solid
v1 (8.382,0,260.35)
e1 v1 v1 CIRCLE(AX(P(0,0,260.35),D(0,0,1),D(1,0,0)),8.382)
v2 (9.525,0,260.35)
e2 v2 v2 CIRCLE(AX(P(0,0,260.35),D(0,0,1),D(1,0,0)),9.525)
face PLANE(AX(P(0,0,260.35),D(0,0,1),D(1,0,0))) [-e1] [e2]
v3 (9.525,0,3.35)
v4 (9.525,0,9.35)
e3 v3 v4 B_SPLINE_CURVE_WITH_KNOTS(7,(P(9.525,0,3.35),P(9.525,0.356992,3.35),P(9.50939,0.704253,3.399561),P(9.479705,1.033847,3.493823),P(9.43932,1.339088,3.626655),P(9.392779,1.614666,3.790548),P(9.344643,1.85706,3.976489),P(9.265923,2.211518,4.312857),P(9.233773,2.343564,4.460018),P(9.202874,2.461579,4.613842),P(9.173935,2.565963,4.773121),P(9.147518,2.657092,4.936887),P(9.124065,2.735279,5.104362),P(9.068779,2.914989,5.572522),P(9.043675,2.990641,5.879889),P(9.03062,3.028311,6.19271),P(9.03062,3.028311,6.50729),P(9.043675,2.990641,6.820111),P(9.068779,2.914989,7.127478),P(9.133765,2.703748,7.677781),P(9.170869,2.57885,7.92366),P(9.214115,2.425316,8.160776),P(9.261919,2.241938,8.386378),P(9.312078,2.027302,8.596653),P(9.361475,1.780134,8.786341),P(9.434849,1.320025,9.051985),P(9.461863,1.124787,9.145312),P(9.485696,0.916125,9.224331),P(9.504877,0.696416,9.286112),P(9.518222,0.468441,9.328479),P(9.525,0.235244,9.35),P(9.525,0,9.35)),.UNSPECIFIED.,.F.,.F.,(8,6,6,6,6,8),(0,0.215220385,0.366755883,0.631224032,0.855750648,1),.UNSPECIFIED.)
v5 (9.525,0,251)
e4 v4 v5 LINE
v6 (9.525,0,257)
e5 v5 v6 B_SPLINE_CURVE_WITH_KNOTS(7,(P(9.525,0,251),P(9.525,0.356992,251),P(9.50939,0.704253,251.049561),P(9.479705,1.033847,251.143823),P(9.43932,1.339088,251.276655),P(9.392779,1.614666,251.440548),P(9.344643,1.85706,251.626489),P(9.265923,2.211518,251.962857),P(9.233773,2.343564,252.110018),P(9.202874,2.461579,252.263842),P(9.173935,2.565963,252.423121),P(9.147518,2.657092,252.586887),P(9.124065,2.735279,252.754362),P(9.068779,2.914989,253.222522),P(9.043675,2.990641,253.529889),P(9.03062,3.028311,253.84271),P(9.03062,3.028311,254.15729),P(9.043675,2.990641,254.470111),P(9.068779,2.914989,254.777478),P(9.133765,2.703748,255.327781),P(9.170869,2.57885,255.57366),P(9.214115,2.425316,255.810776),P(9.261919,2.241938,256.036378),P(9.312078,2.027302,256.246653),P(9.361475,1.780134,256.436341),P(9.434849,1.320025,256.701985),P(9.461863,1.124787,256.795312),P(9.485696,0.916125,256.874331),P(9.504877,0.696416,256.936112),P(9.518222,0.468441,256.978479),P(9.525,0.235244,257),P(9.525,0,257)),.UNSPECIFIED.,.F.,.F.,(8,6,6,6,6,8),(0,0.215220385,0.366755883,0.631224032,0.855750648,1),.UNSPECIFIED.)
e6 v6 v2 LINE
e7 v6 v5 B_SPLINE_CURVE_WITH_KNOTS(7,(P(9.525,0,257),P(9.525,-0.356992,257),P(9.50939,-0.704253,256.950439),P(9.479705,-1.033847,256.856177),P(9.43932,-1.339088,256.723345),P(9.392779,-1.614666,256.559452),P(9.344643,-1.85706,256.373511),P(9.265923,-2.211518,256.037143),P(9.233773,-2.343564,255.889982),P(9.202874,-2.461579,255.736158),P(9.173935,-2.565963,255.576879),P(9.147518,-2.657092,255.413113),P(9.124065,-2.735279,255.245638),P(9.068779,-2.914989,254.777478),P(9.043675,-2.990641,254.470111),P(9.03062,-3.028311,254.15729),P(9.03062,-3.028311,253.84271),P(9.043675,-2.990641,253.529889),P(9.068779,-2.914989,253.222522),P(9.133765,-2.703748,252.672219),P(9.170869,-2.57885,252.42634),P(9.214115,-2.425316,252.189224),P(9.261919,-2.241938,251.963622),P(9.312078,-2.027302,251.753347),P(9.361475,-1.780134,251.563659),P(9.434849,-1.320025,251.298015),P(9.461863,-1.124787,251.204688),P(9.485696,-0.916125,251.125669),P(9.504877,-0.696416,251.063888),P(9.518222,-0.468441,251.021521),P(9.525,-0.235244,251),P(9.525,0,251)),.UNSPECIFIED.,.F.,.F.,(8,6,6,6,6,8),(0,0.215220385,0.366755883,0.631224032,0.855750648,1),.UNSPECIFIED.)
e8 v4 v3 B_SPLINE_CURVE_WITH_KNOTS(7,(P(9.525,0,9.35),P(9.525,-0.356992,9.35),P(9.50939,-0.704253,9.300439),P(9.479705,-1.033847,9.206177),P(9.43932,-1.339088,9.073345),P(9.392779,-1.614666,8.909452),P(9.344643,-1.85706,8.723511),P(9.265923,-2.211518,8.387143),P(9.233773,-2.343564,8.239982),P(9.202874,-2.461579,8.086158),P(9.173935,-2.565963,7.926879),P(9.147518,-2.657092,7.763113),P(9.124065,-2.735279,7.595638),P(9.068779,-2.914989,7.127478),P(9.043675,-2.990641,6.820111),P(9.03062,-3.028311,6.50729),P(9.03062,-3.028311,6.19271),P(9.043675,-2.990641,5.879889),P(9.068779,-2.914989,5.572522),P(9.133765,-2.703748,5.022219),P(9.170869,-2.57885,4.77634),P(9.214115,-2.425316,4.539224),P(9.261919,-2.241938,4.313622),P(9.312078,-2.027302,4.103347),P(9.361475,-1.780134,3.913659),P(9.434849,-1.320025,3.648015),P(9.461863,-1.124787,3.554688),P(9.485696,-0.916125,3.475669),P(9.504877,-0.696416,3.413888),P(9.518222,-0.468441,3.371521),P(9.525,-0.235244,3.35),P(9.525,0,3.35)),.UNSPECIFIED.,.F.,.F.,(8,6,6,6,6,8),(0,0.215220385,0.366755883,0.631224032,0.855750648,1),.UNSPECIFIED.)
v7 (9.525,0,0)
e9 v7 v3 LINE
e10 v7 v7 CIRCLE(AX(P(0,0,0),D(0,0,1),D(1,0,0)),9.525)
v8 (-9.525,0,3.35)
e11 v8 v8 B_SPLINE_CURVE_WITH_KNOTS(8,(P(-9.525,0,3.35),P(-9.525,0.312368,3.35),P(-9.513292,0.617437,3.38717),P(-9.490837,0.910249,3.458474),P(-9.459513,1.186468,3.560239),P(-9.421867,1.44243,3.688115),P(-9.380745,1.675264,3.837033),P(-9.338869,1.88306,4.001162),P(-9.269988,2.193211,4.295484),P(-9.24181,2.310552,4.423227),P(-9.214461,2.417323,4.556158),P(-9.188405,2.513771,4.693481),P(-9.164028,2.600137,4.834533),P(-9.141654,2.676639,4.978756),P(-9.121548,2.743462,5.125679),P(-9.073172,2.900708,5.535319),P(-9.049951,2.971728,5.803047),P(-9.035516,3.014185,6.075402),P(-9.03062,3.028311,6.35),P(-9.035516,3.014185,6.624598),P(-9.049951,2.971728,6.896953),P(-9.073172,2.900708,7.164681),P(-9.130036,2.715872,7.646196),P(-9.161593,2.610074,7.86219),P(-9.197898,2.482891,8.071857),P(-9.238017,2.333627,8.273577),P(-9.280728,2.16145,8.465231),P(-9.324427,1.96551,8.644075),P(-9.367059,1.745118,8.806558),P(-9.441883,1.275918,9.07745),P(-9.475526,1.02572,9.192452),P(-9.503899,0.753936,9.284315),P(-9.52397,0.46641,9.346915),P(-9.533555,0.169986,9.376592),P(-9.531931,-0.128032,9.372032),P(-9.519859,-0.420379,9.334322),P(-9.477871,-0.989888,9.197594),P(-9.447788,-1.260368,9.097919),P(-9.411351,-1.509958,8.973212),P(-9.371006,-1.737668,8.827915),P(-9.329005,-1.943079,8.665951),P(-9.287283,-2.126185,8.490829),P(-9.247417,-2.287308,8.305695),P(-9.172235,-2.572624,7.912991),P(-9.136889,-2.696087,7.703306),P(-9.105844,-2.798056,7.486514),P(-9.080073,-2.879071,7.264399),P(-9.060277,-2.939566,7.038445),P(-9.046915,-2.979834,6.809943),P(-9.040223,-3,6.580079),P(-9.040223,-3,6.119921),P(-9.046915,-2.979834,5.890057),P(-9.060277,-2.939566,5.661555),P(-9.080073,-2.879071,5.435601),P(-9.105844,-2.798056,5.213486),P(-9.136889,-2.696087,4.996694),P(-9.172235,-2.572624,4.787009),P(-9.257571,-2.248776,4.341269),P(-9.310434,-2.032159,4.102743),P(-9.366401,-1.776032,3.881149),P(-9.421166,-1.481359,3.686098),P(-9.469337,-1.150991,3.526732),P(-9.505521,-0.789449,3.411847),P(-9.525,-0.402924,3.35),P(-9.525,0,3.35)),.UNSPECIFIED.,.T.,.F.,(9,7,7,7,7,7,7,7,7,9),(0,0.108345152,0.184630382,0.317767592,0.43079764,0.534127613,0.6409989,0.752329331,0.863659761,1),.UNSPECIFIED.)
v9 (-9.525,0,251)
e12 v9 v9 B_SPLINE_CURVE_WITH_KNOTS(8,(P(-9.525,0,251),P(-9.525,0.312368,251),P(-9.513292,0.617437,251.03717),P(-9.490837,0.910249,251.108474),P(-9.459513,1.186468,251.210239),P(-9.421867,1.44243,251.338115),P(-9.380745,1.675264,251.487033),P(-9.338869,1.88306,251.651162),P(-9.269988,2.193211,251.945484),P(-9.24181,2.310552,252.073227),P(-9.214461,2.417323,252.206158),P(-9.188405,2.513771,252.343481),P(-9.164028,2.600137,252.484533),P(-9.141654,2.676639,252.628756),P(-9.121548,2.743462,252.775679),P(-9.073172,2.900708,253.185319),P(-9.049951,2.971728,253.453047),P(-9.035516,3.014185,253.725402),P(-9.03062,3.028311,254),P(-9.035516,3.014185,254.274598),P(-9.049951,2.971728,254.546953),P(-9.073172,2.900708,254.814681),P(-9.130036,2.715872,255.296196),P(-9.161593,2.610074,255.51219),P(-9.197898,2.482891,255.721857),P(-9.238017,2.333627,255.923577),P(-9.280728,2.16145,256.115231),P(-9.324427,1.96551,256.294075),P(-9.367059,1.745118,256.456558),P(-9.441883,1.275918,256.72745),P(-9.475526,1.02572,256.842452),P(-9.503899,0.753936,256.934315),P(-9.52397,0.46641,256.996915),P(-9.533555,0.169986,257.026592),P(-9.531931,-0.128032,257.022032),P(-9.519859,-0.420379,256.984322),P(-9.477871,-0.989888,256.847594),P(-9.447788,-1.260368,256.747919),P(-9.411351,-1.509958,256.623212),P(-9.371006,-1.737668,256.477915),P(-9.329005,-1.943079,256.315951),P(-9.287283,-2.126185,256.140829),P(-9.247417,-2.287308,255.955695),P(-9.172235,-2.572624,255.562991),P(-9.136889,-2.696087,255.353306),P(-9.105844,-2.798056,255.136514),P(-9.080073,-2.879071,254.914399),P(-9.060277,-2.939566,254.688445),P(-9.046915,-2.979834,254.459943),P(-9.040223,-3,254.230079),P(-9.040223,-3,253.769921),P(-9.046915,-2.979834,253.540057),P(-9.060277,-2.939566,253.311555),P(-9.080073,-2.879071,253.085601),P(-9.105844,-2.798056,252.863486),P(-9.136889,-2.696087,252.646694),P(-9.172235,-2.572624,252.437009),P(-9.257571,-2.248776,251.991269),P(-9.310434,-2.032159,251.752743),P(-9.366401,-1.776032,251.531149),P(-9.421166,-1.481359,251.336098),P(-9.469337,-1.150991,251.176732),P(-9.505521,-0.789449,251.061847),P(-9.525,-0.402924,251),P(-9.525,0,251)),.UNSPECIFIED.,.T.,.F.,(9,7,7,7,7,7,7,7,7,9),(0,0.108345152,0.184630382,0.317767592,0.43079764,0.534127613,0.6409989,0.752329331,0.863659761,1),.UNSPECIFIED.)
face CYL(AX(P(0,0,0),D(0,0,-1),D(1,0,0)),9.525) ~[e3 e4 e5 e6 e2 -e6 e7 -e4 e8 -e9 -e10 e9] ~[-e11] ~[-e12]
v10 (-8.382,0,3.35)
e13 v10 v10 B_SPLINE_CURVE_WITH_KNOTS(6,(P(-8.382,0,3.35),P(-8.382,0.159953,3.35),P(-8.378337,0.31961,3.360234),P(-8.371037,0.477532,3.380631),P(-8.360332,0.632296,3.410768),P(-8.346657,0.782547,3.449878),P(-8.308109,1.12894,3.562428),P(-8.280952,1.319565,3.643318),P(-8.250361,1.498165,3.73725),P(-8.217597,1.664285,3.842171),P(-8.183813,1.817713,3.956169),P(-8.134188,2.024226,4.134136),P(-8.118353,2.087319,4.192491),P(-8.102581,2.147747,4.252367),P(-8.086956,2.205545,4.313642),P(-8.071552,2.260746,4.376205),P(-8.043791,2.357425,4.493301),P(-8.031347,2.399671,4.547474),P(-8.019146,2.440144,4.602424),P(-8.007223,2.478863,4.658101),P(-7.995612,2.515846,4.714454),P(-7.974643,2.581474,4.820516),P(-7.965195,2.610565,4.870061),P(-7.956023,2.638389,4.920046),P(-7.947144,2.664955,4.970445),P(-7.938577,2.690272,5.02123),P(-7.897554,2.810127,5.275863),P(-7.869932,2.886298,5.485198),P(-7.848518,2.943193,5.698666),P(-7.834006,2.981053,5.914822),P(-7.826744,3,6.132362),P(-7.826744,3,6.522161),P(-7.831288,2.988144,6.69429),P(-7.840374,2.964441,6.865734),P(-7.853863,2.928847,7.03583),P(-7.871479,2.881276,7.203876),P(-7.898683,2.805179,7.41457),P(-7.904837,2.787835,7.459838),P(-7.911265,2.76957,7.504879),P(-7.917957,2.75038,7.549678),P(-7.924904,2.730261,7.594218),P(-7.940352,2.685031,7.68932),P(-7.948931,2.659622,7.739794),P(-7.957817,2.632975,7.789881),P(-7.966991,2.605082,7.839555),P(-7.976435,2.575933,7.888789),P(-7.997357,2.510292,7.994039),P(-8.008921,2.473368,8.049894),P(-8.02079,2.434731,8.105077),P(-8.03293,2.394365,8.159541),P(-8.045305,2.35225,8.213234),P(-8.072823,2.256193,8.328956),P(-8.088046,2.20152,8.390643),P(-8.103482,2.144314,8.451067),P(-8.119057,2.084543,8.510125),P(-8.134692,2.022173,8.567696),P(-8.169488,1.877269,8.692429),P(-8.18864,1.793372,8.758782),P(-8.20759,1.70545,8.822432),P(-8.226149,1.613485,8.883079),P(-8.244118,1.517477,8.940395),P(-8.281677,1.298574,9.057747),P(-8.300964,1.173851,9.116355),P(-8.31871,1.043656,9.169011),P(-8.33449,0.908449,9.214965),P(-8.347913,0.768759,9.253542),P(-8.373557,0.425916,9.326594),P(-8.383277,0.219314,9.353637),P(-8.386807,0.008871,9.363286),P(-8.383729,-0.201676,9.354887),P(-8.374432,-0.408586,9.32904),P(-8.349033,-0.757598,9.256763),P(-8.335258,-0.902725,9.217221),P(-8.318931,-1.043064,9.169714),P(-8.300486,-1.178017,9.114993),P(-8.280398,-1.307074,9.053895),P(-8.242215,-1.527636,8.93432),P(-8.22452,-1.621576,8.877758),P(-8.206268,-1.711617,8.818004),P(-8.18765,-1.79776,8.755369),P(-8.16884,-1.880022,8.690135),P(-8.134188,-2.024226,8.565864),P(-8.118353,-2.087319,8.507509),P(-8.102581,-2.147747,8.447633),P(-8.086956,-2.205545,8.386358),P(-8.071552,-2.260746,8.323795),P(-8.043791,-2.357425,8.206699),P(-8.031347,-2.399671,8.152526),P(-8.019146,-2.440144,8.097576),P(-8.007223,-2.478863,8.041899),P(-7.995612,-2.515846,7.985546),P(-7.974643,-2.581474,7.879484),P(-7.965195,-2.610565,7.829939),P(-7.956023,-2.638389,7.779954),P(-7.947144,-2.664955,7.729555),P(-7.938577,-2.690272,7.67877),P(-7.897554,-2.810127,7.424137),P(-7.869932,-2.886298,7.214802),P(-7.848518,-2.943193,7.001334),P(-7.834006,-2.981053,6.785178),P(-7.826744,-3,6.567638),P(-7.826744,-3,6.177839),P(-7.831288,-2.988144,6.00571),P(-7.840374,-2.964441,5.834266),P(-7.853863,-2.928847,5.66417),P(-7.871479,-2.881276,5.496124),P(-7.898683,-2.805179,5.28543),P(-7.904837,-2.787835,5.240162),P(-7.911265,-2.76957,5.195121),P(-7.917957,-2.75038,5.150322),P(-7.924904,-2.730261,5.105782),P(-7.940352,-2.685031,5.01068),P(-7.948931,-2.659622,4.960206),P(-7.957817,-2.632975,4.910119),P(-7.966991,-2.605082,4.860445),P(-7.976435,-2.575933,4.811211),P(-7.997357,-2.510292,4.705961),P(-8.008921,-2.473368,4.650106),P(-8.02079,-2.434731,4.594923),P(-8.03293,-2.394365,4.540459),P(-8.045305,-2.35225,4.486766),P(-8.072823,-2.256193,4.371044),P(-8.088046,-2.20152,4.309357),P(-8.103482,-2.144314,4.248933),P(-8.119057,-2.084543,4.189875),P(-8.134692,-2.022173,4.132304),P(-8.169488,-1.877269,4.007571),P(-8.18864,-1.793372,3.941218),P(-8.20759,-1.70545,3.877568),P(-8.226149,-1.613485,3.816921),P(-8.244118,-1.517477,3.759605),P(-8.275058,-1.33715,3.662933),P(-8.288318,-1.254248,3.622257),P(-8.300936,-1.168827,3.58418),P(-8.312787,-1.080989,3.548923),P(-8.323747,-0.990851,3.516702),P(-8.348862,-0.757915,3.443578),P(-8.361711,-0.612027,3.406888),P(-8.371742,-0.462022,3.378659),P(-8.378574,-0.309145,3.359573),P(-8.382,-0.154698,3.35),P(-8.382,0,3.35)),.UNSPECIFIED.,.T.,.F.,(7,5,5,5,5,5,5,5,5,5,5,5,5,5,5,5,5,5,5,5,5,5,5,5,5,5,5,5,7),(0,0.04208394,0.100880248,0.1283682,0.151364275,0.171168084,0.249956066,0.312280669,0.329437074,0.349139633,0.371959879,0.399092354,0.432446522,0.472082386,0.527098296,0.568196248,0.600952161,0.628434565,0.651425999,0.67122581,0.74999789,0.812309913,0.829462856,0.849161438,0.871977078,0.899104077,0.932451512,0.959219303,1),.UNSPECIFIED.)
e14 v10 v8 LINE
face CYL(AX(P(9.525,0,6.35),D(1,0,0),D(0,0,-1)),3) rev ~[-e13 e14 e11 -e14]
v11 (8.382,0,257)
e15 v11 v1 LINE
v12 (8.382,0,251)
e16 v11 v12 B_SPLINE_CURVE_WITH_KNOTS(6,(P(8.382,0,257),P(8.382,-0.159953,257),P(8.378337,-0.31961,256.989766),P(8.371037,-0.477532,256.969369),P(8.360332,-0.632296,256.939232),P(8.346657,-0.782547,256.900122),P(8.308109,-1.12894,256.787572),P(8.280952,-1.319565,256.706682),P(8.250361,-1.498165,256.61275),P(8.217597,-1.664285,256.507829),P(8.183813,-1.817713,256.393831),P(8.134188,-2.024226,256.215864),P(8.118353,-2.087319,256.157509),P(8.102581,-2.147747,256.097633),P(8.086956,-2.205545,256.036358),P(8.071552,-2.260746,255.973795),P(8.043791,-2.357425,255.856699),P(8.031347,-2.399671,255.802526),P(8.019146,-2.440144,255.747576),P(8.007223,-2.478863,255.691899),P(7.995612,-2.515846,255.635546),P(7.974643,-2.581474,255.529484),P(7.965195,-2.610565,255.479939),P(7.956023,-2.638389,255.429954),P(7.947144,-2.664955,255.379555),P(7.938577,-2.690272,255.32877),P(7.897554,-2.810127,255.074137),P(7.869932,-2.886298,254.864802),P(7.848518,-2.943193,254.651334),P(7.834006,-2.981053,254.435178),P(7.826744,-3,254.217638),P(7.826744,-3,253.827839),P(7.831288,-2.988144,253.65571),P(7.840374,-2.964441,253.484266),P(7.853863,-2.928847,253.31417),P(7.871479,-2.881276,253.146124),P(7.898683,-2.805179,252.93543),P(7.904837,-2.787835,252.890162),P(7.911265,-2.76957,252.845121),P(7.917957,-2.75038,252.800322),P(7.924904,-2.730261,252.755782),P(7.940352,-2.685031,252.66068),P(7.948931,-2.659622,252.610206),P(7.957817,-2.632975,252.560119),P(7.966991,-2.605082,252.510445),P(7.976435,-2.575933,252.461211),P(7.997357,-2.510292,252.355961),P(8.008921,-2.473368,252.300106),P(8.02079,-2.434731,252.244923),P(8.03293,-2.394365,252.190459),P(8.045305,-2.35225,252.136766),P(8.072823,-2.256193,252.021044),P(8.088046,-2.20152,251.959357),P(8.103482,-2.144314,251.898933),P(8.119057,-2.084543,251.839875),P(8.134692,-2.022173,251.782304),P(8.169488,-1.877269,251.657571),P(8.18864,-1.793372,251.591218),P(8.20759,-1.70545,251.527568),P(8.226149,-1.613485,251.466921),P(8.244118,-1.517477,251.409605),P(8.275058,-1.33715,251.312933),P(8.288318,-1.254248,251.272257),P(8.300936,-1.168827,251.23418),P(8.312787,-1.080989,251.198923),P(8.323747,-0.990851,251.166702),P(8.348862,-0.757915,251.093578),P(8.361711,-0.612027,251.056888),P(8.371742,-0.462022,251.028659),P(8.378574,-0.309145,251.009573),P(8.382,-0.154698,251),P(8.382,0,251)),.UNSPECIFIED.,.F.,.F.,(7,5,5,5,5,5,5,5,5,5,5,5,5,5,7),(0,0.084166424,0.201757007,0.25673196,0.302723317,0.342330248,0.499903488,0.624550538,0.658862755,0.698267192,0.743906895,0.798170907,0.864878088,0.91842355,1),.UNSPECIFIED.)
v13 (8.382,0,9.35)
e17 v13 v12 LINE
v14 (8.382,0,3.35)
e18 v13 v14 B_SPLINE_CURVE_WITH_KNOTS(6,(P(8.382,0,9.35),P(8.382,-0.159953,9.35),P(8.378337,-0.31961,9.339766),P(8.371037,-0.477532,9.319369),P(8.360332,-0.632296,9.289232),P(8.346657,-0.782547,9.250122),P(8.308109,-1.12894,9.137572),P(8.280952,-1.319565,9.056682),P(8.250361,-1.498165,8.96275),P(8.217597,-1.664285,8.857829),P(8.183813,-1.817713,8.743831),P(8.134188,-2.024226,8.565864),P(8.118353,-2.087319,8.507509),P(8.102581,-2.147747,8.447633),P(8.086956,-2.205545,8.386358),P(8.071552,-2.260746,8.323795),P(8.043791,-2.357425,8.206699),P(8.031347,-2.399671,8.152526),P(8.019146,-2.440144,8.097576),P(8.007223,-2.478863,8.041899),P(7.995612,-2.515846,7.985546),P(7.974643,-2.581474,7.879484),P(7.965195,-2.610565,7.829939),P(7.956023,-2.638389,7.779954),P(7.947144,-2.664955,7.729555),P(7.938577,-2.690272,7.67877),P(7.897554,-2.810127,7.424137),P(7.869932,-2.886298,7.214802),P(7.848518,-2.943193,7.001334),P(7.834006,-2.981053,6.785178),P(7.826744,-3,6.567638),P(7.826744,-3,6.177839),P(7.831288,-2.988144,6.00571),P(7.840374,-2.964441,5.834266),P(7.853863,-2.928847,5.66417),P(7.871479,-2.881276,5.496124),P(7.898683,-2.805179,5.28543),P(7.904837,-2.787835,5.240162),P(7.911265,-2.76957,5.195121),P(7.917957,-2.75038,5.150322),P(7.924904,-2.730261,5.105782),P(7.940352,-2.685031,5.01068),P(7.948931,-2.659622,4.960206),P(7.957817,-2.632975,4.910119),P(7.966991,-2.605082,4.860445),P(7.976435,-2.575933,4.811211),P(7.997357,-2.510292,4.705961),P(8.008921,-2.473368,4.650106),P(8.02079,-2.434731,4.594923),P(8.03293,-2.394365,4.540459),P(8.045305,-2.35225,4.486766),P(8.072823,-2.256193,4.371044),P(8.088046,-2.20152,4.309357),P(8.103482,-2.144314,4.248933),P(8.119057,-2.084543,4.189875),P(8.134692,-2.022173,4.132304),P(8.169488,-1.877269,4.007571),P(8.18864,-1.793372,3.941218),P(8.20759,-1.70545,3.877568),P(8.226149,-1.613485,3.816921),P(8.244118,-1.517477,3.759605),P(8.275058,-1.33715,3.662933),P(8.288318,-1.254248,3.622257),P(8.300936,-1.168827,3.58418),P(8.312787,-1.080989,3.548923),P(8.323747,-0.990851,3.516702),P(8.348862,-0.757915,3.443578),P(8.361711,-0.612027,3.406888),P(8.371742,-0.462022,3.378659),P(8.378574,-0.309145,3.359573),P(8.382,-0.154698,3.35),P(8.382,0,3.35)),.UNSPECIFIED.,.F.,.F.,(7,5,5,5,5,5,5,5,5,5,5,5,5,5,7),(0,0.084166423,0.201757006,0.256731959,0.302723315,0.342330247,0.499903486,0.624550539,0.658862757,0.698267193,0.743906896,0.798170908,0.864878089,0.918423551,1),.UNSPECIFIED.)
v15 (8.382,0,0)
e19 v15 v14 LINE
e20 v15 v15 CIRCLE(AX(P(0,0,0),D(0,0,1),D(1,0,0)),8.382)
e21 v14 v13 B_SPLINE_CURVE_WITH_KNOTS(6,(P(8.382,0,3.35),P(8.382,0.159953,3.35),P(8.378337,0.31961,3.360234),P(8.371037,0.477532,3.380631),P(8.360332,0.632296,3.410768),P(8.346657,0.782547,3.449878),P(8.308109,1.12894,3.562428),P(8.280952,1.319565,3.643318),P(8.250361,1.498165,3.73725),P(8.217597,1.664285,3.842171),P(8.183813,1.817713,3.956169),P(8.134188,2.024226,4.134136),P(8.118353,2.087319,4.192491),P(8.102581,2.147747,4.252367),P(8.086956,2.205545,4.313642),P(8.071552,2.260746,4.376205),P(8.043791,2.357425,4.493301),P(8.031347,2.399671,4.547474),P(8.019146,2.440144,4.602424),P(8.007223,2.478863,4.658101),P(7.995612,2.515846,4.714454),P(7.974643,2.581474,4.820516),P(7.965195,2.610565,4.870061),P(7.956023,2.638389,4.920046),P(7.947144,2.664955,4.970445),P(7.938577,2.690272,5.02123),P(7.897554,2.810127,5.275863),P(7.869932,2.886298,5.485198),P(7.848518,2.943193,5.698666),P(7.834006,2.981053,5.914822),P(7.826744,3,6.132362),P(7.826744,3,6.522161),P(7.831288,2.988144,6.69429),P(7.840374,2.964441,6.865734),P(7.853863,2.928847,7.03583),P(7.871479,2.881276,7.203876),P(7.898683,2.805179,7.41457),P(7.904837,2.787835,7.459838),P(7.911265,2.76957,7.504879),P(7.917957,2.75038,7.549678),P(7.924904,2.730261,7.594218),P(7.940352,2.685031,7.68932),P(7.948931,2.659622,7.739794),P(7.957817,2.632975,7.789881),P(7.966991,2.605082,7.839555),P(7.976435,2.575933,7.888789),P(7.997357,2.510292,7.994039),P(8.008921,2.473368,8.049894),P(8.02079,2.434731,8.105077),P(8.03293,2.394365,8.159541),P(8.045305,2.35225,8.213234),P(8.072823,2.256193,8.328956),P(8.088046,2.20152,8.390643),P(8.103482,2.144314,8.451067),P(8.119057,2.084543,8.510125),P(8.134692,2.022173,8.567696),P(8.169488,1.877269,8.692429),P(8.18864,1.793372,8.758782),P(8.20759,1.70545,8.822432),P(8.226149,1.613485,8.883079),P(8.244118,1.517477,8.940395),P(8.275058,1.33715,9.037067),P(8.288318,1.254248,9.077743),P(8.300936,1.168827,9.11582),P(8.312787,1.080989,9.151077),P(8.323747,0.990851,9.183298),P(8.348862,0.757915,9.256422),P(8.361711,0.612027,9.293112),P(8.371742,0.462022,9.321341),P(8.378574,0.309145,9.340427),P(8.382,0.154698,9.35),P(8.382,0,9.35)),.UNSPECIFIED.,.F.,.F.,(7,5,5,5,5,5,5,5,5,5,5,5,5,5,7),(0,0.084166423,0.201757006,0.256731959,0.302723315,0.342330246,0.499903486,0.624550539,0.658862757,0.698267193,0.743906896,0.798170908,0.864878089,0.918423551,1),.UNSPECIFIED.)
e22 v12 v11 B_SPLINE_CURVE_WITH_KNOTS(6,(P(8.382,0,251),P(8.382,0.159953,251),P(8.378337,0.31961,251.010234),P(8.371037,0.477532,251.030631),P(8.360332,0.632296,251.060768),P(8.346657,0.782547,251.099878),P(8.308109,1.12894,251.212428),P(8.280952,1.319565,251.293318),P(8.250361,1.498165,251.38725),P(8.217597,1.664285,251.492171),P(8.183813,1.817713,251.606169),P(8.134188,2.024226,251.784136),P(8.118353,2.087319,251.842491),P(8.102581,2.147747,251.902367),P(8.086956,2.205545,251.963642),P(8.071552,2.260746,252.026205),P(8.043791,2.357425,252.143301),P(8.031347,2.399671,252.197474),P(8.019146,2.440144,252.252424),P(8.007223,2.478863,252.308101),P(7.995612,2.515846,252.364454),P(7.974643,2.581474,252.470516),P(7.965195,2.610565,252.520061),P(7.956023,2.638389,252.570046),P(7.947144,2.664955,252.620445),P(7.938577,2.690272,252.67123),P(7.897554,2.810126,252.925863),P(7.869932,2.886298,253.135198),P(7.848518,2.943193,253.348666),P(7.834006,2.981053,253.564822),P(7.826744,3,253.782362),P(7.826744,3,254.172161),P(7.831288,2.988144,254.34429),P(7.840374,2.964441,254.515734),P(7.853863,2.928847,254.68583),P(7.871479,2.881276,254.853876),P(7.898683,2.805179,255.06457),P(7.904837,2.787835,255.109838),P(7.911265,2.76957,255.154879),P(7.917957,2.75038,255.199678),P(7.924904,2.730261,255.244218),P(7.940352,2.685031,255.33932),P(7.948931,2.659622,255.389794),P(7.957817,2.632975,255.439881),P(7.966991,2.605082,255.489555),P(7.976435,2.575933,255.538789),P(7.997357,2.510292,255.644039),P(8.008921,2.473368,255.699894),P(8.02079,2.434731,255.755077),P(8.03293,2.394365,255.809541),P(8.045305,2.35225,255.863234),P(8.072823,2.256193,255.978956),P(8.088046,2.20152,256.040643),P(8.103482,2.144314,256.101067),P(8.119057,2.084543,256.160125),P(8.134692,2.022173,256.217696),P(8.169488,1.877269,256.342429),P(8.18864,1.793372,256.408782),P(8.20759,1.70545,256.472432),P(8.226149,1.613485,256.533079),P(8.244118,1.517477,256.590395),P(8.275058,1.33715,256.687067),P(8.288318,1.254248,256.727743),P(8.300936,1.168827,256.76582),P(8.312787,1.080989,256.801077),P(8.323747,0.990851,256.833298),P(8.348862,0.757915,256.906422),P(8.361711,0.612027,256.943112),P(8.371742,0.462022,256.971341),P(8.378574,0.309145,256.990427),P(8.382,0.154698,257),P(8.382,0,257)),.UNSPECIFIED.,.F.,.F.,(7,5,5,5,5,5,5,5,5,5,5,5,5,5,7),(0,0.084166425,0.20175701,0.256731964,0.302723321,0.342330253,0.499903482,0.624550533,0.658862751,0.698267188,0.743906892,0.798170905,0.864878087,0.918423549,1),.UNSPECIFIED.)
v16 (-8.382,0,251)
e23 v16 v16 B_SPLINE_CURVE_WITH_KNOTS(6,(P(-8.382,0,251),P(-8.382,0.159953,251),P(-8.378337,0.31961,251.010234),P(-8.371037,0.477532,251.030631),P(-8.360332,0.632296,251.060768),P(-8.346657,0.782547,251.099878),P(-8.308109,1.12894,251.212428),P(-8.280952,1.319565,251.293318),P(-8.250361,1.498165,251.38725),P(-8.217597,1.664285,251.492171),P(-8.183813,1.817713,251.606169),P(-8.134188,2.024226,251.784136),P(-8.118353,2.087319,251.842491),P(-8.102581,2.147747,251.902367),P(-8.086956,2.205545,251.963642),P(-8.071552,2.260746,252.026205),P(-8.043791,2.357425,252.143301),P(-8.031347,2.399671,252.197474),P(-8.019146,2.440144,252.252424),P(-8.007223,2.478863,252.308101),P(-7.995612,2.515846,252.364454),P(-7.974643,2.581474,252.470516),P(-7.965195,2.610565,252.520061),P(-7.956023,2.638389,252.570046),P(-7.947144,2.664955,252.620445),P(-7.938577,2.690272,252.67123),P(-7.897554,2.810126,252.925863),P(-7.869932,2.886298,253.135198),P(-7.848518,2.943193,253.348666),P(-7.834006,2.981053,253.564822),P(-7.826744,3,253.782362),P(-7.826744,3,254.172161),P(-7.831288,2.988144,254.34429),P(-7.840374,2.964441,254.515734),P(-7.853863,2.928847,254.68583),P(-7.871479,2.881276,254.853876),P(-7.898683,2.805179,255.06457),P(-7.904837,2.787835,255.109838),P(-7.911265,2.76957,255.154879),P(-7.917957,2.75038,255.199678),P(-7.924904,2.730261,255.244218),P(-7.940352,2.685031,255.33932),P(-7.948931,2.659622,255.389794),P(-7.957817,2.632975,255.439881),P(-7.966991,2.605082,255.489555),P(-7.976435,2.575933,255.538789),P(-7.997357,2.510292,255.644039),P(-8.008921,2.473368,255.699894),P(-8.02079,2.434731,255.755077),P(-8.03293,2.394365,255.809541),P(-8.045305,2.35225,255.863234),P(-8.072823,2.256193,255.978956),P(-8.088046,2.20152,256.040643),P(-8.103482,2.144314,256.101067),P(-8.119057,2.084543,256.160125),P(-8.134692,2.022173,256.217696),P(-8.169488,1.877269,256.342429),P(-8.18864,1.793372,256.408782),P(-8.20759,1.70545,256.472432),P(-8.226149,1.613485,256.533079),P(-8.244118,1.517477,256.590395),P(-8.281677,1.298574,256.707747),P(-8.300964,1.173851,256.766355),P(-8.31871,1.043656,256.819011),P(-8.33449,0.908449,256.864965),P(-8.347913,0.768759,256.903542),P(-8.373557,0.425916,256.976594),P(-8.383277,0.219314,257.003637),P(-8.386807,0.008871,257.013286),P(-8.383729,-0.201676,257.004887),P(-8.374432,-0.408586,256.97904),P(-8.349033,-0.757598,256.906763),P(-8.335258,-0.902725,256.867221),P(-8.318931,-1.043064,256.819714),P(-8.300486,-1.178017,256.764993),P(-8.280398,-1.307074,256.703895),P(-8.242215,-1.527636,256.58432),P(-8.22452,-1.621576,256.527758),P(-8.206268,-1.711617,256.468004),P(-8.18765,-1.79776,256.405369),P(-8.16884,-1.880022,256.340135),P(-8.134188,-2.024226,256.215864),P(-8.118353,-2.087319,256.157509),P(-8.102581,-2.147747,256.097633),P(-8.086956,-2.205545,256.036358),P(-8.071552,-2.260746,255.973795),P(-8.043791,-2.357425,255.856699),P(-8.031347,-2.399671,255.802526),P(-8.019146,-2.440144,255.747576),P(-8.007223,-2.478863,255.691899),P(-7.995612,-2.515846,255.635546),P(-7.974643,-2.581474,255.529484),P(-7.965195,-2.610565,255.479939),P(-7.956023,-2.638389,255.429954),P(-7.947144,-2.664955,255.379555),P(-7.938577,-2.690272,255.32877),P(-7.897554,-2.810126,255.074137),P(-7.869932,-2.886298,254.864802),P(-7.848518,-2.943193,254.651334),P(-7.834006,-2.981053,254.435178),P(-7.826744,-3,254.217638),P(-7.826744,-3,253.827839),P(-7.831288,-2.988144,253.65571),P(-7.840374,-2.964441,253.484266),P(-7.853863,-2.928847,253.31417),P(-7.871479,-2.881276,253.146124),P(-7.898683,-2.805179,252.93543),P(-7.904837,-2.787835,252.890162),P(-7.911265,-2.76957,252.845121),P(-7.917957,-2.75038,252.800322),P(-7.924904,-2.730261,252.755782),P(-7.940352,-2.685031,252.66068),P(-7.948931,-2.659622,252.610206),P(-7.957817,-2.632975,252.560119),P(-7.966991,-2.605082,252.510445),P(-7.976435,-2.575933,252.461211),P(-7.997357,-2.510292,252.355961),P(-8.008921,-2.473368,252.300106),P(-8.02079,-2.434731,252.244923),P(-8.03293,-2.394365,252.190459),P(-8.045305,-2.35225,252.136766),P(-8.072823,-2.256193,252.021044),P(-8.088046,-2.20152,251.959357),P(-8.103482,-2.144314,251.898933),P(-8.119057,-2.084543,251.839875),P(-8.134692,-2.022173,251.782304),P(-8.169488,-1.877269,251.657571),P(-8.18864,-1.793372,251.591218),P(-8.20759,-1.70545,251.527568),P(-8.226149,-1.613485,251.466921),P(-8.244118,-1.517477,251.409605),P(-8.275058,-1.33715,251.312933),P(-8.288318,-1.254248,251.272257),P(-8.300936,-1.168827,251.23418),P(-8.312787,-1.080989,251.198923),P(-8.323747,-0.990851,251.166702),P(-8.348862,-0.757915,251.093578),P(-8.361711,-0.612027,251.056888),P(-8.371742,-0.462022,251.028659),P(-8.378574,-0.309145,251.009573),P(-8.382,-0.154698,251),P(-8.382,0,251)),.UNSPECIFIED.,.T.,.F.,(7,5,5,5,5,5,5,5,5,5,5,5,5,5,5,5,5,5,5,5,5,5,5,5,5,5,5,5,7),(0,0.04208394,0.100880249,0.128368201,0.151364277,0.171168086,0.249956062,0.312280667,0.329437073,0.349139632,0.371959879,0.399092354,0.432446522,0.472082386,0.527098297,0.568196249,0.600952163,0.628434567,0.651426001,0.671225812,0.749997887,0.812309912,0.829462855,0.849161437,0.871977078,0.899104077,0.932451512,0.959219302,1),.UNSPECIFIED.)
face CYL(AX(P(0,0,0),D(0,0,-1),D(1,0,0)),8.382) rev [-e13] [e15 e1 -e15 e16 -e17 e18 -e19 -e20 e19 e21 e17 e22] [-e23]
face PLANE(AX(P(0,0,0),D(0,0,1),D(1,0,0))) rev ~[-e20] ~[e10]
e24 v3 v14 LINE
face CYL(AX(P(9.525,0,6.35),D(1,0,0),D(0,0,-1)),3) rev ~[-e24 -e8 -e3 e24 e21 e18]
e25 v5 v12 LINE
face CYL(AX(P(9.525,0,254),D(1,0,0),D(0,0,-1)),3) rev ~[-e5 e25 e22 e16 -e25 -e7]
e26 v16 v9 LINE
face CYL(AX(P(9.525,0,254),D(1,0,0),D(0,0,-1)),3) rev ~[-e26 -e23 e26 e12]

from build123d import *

# Parameters (mm, degrees)
SKETCH1_R           = 9.525
SKETCH1_R_2         = 8.382
BOSS_EXTRUDE1_DEPTH = 260.35
SKETCH2_R           = 3
CUT_EXTRUDE1_DEPTH  = 20.05


with BuildPart() as part:
    # Sketch1 → Boss-Extrude1 (new body)
    with BuildSketch(Plane.XY):
        Circle(SKETCH1_R)
        Circle(SKETCH1_R_2, mode=Mode.SUBTRACT)
    extrude(amount=BOSS_EXTRUDE1_DEPTH)

    # Sketch2 → Cut-Extrude1 (cut, through all)
    with BuildSketch(Plane(origin=(9.525, 0, 0), x_dir=(0, 0, -1), z_dir=(1, 0, 0))):
        with Locations((-254, 0)):
            Circle(SKETCH2_R)
        with Locations((-6.35, 0)):
            Circle(SKETCH2_R)
    extrude(amount=-CUT_EXTRUDE1_DEPTH, mode=Mode.SUBTRACT)


solid = part.part
